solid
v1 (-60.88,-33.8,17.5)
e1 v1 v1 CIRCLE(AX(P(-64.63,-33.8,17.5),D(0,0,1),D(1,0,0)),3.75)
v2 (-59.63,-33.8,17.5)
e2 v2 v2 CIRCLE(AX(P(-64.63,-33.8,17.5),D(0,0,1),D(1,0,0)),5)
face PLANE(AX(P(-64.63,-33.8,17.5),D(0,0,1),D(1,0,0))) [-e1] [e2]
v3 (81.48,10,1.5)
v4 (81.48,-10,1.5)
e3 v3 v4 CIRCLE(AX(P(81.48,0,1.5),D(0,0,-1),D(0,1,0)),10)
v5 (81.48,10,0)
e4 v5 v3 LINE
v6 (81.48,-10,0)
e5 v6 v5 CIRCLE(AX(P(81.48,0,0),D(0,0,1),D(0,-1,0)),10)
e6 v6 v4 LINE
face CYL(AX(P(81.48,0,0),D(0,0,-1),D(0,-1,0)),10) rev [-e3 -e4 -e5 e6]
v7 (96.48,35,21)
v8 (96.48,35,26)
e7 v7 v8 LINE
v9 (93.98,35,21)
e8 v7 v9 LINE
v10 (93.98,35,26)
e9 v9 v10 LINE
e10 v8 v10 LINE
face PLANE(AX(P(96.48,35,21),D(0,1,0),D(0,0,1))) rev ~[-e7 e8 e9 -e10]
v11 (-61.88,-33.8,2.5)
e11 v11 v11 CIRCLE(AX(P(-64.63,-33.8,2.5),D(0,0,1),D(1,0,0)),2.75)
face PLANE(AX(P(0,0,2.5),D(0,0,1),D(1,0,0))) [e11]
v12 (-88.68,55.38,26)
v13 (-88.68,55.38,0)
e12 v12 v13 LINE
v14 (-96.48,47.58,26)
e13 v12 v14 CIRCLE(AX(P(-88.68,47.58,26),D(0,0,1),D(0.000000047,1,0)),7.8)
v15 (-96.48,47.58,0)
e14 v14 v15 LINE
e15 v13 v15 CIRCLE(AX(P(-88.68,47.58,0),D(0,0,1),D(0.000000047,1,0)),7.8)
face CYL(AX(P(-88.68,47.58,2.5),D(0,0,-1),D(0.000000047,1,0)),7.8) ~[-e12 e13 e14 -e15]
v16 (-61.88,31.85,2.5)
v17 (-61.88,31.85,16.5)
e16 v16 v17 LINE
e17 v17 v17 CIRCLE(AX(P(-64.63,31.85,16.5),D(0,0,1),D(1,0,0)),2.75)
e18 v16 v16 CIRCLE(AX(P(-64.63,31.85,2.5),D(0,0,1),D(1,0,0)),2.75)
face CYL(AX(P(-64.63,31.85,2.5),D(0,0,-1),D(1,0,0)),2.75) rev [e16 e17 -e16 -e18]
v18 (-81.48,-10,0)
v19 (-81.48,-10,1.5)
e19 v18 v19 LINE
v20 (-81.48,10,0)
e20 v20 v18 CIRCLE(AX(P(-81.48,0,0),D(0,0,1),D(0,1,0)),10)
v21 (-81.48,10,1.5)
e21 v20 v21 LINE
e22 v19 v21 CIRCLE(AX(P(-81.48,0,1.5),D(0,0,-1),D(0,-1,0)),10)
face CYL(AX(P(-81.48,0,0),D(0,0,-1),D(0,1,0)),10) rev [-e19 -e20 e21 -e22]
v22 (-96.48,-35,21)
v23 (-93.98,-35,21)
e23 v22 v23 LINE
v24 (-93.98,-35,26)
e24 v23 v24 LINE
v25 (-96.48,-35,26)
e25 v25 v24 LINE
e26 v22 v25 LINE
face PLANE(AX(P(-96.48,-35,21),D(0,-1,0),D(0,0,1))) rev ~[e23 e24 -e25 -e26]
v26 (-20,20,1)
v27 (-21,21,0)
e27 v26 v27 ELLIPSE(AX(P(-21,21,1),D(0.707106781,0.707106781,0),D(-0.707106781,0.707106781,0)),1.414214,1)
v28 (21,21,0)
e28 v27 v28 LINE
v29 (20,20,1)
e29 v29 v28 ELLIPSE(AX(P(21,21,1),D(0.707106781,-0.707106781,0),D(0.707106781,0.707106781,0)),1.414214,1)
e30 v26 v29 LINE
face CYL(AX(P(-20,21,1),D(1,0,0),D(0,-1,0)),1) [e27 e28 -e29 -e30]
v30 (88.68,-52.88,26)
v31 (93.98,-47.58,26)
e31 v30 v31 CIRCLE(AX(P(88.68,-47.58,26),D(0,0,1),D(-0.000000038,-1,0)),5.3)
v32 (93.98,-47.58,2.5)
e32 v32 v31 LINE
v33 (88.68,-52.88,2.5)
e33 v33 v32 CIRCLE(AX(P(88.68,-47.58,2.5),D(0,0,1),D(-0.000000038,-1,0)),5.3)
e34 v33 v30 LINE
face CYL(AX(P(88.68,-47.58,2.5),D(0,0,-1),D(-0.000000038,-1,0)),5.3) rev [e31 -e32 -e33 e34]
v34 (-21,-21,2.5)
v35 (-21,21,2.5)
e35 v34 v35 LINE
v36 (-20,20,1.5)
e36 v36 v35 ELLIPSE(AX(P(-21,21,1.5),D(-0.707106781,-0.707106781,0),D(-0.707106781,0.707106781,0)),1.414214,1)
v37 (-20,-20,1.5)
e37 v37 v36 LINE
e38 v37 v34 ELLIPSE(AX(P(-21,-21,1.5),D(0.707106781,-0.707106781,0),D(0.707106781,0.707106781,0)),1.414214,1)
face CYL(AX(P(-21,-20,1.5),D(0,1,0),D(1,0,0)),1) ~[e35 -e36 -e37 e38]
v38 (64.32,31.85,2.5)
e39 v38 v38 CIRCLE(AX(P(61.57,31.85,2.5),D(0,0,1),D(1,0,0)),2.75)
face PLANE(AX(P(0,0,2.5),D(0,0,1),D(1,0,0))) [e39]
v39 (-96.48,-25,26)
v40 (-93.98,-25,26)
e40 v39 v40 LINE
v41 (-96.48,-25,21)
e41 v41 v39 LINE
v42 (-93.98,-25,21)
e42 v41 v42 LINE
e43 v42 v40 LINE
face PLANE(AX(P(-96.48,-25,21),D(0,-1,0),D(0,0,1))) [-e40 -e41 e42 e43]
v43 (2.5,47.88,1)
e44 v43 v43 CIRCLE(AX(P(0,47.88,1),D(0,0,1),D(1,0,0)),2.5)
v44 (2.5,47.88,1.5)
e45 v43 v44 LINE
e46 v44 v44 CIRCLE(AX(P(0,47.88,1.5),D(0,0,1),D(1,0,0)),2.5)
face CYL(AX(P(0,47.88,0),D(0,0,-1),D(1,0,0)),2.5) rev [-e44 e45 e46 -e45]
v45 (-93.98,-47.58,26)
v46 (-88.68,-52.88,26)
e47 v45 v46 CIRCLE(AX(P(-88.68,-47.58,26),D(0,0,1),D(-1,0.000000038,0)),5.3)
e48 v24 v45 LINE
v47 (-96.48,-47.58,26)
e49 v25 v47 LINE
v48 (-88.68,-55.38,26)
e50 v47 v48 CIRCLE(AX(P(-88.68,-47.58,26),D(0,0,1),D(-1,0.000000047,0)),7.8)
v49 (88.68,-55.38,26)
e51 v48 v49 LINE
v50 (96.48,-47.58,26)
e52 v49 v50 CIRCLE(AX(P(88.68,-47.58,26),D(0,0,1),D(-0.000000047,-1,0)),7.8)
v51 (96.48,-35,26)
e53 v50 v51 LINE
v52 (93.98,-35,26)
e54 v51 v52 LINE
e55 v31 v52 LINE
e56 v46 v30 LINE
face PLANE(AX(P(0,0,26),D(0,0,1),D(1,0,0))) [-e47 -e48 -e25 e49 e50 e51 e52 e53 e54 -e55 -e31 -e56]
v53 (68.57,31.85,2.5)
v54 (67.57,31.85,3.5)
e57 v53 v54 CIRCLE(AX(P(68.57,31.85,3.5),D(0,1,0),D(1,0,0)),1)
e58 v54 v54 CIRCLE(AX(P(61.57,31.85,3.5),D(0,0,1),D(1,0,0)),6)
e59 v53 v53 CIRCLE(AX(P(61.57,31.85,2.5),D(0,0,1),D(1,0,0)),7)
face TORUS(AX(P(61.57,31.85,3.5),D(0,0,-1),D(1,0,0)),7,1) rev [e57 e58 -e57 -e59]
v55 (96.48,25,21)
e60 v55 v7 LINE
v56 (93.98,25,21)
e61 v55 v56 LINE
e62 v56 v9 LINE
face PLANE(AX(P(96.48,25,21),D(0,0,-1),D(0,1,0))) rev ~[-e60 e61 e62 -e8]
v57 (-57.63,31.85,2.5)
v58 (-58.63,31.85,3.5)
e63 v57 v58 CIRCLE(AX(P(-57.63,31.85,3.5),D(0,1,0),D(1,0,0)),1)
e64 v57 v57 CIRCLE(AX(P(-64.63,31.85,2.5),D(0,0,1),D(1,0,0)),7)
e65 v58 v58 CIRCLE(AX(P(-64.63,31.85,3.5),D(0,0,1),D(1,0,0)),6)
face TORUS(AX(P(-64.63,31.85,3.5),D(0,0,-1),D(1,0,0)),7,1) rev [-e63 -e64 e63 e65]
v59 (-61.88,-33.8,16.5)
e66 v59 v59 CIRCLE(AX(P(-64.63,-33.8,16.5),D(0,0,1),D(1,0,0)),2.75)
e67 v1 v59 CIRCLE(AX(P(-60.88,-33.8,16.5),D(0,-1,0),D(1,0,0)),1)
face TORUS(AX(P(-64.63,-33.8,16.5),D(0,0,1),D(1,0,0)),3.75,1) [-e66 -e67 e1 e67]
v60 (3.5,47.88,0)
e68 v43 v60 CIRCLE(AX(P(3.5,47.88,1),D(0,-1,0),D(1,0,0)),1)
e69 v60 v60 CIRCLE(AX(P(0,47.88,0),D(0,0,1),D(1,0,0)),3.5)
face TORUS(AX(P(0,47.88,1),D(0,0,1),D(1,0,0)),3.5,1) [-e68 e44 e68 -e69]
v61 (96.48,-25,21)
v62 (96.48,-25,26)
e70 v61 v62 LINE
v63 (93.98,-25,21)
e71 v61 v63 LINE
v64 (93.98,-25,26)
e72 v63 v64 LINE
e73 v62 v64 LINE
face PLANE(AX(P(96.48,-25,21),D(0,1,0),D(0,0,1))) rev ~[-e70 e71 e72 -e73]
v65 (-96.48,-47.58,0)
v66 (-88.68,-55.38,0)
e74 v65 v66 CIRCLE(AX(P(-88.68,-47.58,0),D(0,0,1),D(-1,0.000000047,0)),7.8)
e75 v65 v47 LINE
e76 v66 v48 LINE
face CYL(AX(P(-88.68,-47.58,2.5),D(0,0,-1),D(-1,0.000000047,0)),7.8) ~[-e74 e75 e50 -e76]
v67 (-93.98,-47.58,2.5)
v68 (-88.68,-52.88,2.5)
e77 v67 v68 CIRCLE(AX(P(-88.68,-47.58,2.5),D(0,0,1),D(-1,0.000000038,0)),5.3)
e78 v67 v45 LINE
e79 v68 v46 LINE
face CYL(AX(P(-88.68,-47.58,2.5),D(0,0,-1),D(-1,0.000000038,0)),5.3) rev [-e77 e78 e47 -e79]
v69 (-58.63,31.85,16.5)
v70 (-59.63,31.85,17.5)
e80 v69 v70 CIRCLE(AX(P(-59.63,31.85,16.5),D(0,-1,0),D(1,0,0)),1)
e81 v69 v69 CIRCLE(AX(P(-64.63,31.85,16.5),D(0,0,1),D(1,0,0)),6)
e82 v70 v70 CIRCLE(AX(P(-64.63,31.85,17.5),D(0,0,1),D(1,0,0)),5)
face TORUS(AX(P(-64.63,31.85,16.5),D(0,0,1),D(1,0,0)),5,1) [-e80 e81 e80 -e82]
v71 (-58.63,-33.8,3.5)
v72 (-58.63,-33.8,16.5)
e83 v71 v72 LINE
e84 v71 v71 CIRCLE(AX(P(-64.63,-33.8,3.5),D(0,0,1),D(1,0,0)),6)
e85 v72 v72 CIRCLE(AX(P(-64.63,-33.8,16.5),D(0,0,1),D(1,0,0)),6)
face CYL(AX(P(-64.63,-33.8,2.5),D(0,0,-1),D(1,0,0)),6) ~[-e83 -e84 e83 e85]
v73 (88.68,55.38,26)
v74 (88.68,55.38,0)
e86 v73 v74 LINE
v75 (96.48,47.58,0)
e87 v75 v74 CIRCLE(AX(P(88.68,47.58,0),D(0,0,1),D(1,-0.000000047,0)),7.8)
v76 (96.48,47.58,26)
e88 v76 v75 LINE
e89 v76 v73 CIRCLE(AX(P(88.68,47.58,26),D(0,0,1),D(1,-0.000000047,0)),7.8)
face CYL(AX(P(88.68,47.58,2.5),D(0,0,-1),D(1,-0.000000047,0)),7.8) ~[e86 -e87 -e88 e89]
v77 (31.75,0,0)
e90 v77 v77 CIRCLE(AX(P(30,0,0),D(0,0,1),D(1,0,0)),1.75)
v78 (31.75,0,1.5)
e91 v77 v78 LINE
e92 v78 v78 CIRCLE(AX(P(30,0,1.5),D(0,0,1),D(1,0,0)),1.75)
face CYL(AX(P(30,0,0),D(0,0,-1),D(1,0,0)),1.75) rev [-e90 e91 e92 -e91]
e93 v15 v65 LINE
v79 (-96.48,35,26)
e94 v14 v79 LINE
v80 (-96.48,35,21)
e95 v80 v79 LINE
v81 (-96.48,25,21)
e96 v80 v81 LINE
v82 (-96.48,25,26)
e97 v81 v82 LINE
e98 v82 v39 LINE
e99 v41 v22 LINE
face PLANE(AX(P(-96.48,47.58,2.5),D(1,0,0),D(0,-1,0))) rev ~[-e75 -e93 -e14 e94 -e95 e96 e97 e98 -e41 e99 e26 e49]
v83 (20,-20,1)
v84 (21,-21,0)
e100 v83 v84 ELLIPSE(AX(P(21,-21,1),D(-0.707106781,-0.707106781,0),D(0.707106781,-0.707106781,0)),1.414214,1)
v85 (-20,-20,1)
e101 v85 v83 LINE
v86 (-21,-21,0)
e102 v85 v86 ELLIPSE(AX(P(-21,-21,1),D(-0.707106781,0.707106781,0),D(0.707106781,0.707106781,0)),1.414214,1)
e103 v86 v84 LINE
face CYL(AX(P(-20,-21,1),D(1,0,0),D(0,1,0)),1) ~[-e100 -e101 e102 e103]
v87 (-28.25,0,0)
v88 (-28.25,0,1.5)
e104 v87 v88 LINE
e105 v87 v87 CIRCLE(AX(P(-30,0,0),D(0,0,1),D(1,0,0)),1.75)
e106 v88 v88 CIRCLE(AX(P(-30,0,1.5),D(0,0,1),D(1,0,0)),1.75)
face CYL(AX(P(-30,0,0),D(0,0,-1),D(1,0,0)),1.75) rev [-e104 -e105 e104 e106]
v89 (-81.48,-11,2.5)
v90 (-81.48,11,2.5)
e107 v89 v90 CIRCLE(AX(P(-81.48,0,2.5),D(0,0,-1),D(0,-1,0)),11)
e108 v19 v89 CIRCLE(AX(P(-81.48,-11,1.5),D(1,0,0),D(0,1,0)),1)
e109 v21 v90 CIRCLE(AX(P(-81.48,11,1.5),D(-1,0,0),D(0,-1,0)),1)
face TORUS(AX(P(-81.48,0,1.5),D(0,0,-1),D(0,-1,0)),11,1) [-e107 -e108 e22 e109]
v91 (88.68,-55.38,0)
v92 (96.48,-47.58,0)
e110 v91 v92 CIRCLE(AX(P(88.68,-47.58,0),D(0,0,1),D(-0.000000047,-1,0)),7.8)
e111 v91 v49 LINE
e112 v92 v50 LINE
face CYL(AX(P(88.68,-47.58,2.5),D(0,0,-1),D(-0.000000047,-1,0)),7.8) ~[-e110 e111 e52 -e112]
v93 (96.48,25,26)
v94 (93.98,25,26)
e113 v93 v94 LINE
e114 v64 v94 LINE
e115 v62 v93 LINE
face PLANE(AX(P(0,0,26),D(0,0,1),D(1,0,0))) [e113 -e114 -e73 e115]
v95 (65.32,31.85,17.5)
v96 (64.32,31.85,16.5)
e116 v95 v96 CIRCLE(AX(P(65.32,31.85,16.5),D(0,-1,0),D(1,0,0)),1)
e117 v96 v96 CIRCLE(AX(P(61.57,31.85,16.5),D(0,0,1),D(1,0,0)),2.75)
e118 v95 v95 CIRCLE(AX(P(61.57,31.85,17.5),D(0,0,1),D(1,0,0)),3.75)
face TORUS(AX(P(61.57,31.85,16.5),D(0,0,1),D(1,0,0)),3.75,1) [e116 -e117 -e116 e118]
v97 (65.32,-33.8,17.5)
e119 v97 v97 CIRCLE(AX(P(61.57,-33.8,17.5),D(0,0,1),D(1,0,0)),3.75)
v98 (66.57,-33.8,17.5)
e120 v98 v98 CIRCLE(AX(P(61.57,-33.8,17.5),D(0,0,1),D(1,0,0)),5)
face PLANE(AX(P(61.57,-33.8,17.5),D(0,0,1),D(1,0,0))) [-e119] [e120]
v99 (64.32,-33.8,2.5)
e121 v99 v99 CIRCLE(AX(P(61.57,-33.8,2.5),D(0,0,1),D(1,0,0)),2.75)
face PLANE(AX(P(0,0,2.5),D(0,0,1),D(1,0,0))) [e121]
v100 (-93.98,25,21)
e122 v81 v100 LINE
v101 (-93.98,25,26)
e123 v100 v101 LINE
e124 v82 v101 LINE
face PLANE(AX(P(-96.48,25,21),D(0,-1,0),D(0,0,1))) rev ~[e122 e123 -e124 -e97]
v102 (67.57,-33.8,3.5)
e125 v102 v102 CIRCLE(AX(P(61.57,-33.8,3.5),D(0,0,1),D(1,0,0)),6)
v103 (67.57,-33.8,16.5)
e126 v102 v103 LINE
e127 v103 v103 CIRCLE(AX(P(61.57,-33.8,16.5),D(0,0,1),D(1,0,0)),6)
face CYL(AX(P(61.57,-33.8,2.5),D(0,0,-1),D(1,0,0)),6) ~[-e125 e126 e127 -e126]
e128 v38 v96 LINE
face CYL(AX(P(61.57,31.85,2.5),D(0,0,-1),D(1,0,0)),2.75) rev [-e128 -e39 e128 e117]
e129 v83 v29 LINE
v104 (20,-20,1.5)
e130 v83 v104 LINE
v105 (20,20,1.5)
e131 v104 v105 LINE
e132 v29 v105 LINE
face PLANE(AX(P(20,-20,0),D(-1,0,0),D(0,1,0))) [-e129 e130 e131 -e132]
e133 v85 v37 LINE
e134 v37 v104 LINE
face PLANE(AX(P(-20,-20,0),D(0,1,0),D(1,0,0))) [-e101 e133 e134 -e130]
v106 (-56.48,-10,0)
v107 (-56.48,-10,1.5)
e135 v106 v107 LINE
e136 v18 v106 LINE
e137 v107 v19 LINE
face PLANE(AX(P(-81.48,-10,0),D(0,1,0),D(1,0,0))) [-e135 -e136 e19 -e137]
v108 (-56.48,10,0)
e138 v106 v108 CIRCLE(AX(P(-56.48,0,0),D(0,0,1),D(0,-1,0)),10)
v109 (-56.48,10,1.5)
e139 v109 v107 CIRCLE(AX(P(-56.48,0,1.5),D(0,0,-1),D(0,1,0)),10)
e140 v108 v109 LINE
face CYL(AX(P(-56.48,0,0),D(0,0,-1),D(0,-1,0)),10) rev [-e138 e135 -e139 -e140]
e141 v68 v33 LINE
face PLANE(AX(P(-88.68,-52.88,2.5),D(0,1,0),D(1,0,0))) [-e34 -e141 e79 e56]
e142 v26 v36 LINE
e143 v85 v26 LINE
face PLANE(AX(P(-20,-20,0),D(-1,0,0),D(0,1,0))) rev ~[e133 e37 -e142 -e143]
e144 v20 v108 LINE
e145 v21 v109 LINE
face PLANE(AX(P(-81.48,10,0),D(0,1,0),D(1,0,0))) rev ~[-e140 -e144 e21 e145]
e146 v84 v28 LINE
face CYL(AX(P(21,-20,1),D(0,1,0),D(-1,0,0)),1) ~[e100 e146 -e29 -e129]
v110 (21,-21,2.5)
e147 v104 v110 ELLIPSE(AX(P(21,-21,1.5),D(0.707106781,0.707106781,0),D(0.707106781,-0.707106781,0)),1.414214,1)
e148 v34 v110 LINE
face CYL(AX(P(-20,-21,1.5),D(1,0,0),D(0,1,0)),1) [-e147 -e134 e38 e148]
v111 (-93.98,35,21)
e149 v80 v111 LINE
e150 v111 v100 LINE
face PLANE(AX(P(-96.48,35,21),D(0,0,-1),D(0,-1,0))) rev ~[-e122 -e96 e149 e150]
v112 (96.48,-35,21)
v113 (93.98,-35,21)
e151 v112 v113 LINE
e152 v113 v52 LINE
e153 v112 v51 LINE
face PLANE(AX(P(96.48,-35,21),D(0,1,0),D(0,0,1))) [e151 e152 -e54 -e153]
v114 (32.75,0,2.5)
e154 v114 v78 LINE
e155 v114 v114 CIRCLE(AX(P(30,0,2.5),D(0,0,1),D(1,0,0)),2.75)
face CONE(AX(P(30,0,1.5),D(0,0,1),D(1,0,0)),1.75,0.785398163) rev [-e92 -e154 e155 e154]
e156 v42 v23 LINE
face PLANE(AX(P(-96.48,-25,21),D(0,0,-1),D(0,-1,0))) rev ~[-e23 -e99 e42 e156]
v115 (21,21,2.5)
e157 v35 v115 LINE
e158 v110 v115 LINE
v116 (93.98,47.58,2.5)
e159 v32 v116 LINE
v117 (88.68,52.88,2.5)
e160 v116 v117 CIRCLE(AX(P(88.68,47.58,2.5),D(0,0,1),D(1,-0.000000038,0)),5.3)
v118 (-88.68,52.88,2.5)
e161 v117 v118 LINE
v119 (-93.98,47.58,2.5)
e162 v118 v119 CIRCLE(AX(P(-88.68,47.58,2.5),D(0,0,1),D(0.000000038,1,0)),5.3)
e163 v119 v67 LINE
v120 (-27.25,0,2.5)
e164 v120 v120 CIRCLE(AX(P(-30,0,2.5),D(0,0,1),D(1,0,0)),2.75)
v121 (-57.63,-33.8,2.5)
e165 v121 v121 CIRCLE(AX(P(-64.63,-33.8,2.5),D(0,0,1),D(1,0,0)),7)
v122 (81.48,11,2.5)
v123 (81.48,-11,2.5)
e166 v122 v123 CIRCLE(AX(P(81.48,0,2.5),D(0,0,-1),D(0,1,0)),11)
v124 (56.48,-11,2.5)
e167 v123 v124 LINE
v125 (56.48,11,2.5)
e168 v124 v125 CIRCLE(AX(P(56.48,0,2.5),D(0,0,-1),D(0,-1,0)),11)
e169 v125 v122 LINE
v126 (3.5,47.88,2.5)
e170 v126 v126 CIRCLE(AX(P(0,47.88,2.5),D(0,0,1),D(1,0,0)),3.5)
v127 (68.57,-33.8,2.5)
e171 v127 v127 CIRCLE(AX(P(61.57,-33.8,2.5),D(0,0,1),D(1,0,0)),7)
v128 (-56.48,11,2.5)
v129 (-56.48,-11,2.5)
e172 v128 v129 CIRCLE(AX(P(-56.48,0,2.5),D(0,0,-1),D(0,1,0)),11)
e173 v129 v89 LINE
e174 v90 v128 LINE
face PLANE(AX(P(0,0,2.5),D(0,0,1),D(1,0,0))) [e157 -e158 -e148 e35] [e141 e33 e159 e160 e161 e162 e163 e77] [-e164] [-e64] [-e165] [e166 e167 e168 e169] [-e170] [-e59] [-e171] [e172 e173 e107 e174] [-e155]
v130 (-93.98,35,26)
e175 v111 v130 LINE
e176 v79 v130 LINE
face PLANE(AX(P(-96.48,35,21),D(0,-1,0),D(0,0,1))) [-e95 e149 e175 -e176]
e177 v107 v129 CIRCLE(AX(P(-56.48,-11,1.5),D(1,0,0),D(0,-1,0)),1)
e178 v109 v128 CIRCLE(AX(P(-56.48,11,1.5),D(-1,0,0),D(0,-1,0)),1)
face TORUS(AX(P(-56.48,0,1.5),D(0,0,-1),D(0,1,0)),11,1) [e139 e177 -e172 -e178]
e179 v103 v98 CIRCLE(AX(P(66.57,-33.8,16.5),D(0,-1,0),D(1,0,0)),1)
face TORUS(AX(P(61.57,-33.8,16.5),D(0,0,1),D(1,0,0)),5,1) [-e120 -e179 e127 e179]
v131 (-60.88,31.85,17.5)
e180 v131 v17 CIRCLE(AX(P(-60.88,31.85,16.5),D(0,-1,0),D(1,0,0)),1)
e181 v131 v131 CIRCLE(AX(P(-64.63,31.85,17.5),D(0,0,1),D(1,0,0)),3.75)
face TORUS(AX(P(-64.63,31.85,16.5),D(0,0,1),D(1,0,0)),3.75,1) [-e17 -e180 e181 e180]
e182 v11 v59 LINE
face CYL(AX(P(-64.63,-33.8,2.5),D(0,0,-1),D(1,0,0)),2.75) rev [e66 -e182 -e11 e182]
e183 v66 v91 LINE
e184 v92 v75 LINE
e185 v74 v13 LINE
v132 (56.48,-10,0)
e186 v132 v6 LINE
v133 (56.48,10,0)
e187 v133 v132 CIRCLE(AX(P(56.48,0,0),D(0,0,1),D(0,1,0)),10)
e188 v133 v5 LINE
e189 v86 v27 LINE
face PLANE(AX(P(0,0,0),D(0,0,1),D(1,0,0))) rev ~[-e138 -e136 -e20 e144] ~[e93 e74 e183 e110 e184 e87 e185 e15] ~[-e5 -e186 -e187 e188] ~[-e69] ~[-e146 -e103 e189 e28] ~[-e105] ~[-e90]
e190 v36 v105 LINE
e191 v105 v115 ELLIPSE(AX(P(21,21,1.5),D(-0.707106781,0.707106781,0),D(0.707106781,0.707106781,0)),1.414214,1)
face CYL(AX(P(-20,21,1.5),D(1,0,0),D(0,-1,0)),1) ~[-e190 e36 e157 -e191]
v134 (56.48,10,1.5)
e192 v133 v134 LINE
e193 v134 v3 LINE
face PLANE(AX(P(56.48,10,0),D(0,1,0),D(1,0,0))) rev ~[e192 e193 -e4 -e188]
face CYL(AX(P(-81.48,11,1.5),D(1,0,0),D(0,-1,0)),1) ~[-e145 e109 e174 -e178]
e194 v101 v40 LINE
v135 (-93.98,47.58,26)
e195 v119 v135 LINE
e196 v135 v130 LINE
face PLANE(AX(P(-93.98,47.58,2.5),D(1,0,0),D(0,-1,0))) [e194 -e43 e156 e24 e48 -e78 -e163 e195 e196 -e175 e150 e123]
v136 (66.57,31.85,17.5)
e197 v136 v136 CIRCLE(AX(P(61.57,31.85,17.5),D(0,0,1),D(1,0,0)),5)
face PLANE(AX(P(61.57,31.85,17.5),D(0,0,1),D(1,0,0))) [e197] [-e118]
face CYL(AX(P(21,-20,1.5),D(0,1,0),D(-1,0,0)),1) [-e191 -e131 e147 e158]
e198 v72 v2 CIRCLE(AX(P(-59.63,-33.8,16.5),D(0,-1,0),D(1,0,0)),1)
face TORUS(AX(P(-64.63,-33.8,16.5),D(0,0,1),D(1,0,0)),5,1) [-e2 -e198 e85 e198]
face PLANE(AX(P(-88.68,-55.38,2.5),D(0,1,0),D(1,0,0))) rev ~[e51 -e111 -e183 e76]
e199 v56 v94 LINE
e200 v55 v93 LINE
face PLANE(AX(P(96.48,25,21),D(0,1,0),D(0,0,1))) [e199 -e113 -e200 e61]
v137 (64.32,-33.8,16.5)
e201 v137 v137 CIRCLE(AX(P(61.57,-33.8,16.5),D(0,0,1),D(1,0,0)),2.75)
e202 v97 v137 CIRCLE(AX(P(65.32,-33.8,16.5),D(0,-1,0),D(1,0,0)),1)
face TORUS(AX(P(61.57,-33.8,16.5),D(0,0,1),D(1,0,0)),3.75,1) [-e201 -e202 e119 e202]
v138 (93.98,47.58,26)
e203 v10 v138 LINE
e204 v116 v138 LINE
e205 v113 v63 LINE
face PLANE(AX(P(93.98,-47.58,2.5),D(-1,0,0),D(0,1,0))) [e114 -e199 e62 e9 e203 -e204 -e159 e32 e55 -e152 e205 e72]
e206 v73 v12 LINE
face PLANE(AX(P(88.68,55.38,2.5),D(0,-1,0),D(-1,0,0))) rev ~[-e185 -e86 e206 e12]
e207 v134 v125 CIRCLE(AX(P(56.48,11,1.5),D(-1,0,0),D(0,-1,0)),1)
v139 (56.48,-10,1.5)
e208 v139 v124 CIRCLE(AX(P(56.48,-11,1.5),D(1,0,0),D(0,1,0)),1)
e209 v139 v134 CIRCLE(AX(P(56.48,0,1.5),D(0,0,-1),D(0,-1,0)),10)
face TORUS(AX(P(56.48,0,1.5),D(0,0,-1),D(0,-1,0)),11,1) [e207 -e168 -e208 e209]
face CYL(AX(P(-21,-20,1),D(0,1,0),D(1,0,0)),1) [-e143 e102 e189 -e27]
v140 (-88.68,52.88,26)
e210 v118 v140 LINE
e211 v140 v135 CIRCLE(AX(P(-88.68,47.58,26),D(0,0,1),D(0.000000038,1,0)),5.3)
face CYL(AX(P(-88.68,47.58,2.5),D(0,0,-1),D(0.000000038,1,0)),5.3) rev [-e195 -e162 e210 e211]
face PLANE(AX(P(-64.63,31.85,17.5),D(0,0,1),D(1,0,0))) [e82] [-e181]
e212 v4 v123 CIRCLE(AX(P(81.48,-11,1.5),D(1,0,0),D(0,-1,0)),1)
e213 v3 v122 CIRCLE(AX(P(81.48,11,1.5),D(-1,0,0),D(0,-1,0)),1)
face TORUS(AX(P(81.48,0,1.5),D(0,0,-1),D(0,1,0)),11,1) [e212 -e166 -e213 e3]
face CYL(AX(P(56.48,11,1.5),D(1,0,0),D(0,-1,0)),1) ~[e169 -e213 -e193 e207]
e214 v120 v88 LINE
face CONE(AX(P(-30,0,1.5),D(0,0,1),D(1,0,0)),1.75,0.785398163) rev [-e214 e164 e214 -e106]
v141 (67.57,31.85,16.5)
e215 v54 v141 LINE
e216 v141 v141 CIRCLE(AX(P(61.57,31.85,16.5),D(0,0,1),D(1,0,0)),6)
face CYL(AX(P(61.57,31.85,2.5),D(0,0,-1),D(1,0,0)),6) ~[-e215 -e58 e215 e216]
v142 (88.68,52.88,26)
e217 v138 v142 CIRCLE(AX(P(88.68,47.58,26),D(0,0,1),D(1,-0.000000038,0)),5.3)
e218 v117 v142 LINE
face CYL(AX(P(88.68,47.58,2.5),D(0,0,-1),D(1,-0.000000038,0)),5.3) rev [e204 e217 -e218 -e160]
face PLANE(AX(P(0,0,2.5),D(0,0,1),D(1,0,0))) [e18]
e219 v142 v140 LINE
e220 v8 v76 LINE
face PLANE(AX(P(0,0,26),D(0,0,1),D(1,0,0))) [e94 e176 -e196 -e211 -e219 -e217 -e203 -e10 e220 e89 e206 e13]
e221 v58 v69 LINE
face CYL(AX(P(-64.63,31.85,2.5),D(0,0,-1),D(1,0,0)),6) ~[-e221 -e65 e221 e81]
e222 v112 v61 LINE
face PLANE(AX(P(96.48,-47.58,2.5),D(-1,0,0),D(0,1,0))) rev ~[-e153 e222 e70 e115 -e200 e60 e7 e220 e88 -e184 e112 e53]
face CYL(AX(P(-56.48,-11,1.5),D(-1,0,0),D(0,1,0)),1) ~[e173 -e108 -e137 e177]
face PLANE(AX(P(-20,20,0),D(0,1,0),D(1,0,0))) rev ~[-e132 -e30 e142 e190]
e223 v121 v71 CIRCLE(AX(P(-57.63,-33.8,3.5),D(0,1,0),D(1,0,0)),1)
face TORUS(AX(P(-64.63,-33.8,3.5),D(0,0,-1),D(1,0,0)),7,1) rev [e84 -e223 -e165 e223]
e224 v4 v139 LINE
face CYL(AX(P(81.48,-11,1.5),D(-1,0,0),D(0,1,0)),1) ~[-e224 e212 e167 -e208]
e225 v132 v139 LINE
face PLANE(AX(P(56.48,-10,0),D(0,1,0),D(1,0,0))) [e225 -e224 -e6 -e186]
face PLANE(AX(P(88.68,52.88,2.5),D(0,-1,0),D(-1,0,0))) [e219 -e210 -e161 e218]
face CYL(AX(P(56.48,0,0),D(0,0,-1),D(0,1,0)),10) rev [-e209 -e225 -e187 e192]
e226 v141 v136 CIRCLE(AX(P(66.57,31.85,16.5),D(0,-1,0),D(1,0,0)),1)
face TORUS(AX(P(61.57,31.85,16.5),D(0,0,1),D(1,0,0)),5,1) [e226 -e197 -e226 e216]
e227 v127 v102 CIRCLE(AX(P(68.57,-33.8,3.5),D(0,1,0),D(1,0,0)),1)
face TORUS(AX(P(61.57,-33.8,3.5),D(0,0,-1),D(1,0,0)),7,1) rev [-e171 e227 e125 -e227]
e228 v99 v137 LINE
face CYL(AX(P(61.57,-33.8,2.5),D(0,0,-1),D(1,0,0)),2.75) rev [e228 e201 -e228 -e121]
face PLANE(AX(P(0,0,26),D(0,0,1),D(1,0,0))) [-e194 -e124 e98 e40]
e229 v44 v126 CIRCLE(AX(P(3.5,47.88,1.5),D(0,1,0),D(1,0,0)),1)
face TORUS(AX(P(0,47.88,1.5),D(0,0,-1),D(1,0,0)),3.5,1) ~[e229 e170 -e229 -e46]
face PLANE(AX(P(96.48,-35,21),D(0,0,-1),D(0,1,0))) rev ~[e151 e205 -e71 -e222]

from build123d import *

# Parameters (mm, degrees)
SKETCH_R        = 1.75
SKETCH_R_2      = 2.5
SKETCH_W        = 40
SKETCH_H        = 40
PAD_DEPTH       = 2.5
FILLET_R        = 1
CHAMFER_SIZE    = 1
SKETCH001_R     = 6
SKETCH001_R_2   = 2.75
PAD001_DEPTH    = 15
FILLET001_R     = 1
PAD002_DEPTH    = 23.5
SKETCH003_W     = 10
SKETCH003_H     = 5
POCKET_DEPTH    = 2.5
SKETCH004_W     = 10
SKETCH004_H     = 5
POCKET001_DEPTH = 2.5


with BuildPart() as part:
    # Sketch → Pad (new body)
    with BuildSketch(Plane.XY):
        with BuildLine():
            Line((-96.48, 47.58), (-96.48, -47.58))
            ThreePointArc((-96.48, -47.58), (-94.195433, -53.095433), (-88.68, -55.38))
            Line((-88.68, -55.38), (88.68, -55.38))
            ThreePointArc((88.68, -55.38), (94.195433, -53.095433), (96.48, -47.58))
            Line((96.48, -47.58), (96.48, 47.58))
            ThreePointArc((96.48, 47.58), (94.195433, 53.095433), (88.68, 55.38))
            Line((88.68, 55.38), (-88.68, 55.38))
            ThreePointArc((-88.68, 55.38), (-94.195433, 53.095433), (-96.48, 47.58))
        make_face()
        with Locations((-30, 0)):
            Circle(SKETCH_R, mode=Mode.SUBTRACT)
        with Locations((30, 0)):
            Circle(SKETCH_R, mode=Mode.SUBTRACT)
        with Locations((0, 47.88)):
            Circle(SKETCH_R_2, mode=Mode.SUBTRACT)
        Rectangle(SKETCH_W, SKETCH_H, mode=Mode.SUBTRACT)
        with BuildLine():
            ThreePointArc((-81.48, 10), (-91.48, 0), (-81.48, -10))
            Line((-81.48, -10), (-56.48, -10))
            ThreePointArc((-56.48, -10), (-46.48, 0), (-56.48, 10))
            Line((-81.48, 10), (-56.48, 10))
        make_face(mode=Mode.SUBTRACT)
        with BuildLine():
            ThreePointArc((56.48, 10), (46.48, 0), (56.48, -10))
            Line((56.48, -10), (81.48, -10))
            ThreePointArc((81.48, -10), (91.48, 0), (81.48, 10))
            Line((56.48, 10), (81.48, 10))
        make_face(mode=Mode.SUBTRACT)
    extrude(amount=PAD_DEPTH)

    # Fillet
    fillet_edges = [part.edges().sort_by_distance(p)[0] for p in [
        (-20, 0, 2.5),
        (0, -20, 2.5),
        (20, 0, 2.5),
        (0, 20, 2.5),
        (0, -20, 0),
        (-20, 0, 0),
        (0, 20, 0),
        (20, 0, 0),
        (-2.5, 47.88, 2.5),
        (-2.5, 47.88, 0),
        (-68.98, 10, 2.5),
        (-91.48, 0, 2.5),
        (-68.98, -10, 2.5),
        (-46.48, 0, 2.5),
        (68.98, 10, 2.5),
        (46.48, 0, 2.5),
        (68.98, -10, 2.5),
        (91.48, 0, 2.5),
    ]]
    fillet(fillet_edges, radius=FILLET_R)

    # Chamfer
    chamfer_edges = [part.edges().sort_by_distance(p)[0] for p in [
        (-31.75, 0, 2.5),
        (28.25, 0, 2.5),
    ]]
    chamfer(chamfer_edges, length=CHAMFER_SIZE)

    # Sketch001 (on Face1 of Chamfer) → Pad001 (join)
    with BuildSketch(Plane.XY.offset(2.5)):
        with Locations((-64.63, 31.85)):
            Circle(SKETCH001_R)
        with Locations((-64.63, 31.85)):
            Circle(SKETCH001_R_2, mode=Mode.SUBTRACT)
        with Locations((-64.63, -33.8)):
            Circle(SKETCH001_R)
        with Locations((-64.63, -33.8)):
            Circle(SKETCH001_R_2, mode=Mode.SUBTRACT)
        with Locations((61.57, -33.8)):
            Circle(SKETCH001_R)
        with Locations((61.57, -33.8)):
            Circle(SKETCH001_R_2, mode=Mode.SUBTRACT)
        with Locations((61.57, 31.85)):
            Circle(SKETCH001_R)
        with Locations((61.57, 31.85)):
            Circle(SKETCH001_R_2, mode=Mode.SUBTRACT)
    extrude(amount=PAD001_DEPTH)

    # Fillet001
    fillet001_edges = [part.edges().sort_by_distance(p)[0] for p in [
        (-67.38, -33.8, 17.5),
        (-67.38, 31.85, 17.5),
        (58.82, -33.8, 17.5),
        (58.82, 31.85, 17.5),
        (55.57, 31.85, 17.5),
        (55.57, -33.8, 17.5),
        (-70.63, -33.8, 17.5),
        (-70.63, 31.85, 17.5),
        (-70.63, 31.85, 2.5),
        (-70.63, -33.8, 2.5),
        (55.57, -33.8, 2.5),
        (55.57, 31.85, 2.5),
    ]]
    fillet(fillet001_edges, radius=FILLET001_R)

    # Sketch002 → Pad002 (join)
    with BuildSketch(Plane.XY.offset(2.5)):
        with BuildLine():
            Line((-96.48, 47.58), (-96.48, -47.58))
            ThreePointArc((-96.48, -47.58), (-94.195433, -53.095433), (-88.68, -55.38))
            Line((-88.68, -55.38), (88.68, -55.38))
            ThreePointArc((88.68, -55.38), (94.195433, -53.095433), (96.48, -47.58))
            Line((96.48, -47.58), (96.48, 47.58))
            ThreePointArc((96.48, 47.58), (94.195433, 53.095433), (88.68, 55.38))
            Line((88.68, 55.38), (-88.68, 55.38))
            ThreePointArc((-88.68, 55.38), (-94.195433, 53.095433), (-96.48, 47.58))
        make_face()
        with BuildLine():
            Line((-93.98, 47.58), (-93.98, -47.58))
            ThreePointArc((-93.98, -47.58), (-92.427666, -51.327666), (-88.68, -52.88))
            Line((-88.68, -52.88), (88.68, -52.88))
            ThreePointArc((88.68, -52.88), (92.427666, -51.327666), (93.98, -47.58))
            Line((93.98, -47.58), (93.98, 47.58))
            ThreePointArc((93.98, 47.58), (92.427666, 51.327666), (88.68, 52.88))
            Line((88.68, 52.88), (-88.68, 52.88))
            ThreePointArc((-88.68, 52.88), (-92.427666, 51.327666), (-93.98, 47.58))
        make_face(mode=Mode.SUBTRACT)
    extrude(amount=PAD002_DEPTH)

    # Sketch003 (on Face75 of Pad002) → Pocket (cut)
    with BuildSketch(Plane(origin=(-96.48, 0, 0), x_dir=(0, -1, 0), z_dir=(-1, 0, 0))):
        with Locations((30, 23.5)):
            Rectangle(SKETCH003_W, SKETCH003_H)
        with Locations((-30, 23.5)):
            Rectangle(SKETCH003_W, SKETCH003_H)
    extrude(amount=-POCKET_DEPTH, mode=Mode.SUBTRACT)

    # Sketch004 (on Face59 of Pocket) → Pocket001 (cut)
    with BuildSketch(Plane.YZ.offset(96.48)):
        with Locations((-30, 23.5)):
            Rectangle(SKETCH004_W, SKETCH004_H)
        with Locations((30, 23.5)):
            Rectangle(SKETCH004_W, SKETCH004_H)
    extrude(amount=-POCKET001_DEPTH, mode=Mode.SUBTRACT)


solid = part.part
